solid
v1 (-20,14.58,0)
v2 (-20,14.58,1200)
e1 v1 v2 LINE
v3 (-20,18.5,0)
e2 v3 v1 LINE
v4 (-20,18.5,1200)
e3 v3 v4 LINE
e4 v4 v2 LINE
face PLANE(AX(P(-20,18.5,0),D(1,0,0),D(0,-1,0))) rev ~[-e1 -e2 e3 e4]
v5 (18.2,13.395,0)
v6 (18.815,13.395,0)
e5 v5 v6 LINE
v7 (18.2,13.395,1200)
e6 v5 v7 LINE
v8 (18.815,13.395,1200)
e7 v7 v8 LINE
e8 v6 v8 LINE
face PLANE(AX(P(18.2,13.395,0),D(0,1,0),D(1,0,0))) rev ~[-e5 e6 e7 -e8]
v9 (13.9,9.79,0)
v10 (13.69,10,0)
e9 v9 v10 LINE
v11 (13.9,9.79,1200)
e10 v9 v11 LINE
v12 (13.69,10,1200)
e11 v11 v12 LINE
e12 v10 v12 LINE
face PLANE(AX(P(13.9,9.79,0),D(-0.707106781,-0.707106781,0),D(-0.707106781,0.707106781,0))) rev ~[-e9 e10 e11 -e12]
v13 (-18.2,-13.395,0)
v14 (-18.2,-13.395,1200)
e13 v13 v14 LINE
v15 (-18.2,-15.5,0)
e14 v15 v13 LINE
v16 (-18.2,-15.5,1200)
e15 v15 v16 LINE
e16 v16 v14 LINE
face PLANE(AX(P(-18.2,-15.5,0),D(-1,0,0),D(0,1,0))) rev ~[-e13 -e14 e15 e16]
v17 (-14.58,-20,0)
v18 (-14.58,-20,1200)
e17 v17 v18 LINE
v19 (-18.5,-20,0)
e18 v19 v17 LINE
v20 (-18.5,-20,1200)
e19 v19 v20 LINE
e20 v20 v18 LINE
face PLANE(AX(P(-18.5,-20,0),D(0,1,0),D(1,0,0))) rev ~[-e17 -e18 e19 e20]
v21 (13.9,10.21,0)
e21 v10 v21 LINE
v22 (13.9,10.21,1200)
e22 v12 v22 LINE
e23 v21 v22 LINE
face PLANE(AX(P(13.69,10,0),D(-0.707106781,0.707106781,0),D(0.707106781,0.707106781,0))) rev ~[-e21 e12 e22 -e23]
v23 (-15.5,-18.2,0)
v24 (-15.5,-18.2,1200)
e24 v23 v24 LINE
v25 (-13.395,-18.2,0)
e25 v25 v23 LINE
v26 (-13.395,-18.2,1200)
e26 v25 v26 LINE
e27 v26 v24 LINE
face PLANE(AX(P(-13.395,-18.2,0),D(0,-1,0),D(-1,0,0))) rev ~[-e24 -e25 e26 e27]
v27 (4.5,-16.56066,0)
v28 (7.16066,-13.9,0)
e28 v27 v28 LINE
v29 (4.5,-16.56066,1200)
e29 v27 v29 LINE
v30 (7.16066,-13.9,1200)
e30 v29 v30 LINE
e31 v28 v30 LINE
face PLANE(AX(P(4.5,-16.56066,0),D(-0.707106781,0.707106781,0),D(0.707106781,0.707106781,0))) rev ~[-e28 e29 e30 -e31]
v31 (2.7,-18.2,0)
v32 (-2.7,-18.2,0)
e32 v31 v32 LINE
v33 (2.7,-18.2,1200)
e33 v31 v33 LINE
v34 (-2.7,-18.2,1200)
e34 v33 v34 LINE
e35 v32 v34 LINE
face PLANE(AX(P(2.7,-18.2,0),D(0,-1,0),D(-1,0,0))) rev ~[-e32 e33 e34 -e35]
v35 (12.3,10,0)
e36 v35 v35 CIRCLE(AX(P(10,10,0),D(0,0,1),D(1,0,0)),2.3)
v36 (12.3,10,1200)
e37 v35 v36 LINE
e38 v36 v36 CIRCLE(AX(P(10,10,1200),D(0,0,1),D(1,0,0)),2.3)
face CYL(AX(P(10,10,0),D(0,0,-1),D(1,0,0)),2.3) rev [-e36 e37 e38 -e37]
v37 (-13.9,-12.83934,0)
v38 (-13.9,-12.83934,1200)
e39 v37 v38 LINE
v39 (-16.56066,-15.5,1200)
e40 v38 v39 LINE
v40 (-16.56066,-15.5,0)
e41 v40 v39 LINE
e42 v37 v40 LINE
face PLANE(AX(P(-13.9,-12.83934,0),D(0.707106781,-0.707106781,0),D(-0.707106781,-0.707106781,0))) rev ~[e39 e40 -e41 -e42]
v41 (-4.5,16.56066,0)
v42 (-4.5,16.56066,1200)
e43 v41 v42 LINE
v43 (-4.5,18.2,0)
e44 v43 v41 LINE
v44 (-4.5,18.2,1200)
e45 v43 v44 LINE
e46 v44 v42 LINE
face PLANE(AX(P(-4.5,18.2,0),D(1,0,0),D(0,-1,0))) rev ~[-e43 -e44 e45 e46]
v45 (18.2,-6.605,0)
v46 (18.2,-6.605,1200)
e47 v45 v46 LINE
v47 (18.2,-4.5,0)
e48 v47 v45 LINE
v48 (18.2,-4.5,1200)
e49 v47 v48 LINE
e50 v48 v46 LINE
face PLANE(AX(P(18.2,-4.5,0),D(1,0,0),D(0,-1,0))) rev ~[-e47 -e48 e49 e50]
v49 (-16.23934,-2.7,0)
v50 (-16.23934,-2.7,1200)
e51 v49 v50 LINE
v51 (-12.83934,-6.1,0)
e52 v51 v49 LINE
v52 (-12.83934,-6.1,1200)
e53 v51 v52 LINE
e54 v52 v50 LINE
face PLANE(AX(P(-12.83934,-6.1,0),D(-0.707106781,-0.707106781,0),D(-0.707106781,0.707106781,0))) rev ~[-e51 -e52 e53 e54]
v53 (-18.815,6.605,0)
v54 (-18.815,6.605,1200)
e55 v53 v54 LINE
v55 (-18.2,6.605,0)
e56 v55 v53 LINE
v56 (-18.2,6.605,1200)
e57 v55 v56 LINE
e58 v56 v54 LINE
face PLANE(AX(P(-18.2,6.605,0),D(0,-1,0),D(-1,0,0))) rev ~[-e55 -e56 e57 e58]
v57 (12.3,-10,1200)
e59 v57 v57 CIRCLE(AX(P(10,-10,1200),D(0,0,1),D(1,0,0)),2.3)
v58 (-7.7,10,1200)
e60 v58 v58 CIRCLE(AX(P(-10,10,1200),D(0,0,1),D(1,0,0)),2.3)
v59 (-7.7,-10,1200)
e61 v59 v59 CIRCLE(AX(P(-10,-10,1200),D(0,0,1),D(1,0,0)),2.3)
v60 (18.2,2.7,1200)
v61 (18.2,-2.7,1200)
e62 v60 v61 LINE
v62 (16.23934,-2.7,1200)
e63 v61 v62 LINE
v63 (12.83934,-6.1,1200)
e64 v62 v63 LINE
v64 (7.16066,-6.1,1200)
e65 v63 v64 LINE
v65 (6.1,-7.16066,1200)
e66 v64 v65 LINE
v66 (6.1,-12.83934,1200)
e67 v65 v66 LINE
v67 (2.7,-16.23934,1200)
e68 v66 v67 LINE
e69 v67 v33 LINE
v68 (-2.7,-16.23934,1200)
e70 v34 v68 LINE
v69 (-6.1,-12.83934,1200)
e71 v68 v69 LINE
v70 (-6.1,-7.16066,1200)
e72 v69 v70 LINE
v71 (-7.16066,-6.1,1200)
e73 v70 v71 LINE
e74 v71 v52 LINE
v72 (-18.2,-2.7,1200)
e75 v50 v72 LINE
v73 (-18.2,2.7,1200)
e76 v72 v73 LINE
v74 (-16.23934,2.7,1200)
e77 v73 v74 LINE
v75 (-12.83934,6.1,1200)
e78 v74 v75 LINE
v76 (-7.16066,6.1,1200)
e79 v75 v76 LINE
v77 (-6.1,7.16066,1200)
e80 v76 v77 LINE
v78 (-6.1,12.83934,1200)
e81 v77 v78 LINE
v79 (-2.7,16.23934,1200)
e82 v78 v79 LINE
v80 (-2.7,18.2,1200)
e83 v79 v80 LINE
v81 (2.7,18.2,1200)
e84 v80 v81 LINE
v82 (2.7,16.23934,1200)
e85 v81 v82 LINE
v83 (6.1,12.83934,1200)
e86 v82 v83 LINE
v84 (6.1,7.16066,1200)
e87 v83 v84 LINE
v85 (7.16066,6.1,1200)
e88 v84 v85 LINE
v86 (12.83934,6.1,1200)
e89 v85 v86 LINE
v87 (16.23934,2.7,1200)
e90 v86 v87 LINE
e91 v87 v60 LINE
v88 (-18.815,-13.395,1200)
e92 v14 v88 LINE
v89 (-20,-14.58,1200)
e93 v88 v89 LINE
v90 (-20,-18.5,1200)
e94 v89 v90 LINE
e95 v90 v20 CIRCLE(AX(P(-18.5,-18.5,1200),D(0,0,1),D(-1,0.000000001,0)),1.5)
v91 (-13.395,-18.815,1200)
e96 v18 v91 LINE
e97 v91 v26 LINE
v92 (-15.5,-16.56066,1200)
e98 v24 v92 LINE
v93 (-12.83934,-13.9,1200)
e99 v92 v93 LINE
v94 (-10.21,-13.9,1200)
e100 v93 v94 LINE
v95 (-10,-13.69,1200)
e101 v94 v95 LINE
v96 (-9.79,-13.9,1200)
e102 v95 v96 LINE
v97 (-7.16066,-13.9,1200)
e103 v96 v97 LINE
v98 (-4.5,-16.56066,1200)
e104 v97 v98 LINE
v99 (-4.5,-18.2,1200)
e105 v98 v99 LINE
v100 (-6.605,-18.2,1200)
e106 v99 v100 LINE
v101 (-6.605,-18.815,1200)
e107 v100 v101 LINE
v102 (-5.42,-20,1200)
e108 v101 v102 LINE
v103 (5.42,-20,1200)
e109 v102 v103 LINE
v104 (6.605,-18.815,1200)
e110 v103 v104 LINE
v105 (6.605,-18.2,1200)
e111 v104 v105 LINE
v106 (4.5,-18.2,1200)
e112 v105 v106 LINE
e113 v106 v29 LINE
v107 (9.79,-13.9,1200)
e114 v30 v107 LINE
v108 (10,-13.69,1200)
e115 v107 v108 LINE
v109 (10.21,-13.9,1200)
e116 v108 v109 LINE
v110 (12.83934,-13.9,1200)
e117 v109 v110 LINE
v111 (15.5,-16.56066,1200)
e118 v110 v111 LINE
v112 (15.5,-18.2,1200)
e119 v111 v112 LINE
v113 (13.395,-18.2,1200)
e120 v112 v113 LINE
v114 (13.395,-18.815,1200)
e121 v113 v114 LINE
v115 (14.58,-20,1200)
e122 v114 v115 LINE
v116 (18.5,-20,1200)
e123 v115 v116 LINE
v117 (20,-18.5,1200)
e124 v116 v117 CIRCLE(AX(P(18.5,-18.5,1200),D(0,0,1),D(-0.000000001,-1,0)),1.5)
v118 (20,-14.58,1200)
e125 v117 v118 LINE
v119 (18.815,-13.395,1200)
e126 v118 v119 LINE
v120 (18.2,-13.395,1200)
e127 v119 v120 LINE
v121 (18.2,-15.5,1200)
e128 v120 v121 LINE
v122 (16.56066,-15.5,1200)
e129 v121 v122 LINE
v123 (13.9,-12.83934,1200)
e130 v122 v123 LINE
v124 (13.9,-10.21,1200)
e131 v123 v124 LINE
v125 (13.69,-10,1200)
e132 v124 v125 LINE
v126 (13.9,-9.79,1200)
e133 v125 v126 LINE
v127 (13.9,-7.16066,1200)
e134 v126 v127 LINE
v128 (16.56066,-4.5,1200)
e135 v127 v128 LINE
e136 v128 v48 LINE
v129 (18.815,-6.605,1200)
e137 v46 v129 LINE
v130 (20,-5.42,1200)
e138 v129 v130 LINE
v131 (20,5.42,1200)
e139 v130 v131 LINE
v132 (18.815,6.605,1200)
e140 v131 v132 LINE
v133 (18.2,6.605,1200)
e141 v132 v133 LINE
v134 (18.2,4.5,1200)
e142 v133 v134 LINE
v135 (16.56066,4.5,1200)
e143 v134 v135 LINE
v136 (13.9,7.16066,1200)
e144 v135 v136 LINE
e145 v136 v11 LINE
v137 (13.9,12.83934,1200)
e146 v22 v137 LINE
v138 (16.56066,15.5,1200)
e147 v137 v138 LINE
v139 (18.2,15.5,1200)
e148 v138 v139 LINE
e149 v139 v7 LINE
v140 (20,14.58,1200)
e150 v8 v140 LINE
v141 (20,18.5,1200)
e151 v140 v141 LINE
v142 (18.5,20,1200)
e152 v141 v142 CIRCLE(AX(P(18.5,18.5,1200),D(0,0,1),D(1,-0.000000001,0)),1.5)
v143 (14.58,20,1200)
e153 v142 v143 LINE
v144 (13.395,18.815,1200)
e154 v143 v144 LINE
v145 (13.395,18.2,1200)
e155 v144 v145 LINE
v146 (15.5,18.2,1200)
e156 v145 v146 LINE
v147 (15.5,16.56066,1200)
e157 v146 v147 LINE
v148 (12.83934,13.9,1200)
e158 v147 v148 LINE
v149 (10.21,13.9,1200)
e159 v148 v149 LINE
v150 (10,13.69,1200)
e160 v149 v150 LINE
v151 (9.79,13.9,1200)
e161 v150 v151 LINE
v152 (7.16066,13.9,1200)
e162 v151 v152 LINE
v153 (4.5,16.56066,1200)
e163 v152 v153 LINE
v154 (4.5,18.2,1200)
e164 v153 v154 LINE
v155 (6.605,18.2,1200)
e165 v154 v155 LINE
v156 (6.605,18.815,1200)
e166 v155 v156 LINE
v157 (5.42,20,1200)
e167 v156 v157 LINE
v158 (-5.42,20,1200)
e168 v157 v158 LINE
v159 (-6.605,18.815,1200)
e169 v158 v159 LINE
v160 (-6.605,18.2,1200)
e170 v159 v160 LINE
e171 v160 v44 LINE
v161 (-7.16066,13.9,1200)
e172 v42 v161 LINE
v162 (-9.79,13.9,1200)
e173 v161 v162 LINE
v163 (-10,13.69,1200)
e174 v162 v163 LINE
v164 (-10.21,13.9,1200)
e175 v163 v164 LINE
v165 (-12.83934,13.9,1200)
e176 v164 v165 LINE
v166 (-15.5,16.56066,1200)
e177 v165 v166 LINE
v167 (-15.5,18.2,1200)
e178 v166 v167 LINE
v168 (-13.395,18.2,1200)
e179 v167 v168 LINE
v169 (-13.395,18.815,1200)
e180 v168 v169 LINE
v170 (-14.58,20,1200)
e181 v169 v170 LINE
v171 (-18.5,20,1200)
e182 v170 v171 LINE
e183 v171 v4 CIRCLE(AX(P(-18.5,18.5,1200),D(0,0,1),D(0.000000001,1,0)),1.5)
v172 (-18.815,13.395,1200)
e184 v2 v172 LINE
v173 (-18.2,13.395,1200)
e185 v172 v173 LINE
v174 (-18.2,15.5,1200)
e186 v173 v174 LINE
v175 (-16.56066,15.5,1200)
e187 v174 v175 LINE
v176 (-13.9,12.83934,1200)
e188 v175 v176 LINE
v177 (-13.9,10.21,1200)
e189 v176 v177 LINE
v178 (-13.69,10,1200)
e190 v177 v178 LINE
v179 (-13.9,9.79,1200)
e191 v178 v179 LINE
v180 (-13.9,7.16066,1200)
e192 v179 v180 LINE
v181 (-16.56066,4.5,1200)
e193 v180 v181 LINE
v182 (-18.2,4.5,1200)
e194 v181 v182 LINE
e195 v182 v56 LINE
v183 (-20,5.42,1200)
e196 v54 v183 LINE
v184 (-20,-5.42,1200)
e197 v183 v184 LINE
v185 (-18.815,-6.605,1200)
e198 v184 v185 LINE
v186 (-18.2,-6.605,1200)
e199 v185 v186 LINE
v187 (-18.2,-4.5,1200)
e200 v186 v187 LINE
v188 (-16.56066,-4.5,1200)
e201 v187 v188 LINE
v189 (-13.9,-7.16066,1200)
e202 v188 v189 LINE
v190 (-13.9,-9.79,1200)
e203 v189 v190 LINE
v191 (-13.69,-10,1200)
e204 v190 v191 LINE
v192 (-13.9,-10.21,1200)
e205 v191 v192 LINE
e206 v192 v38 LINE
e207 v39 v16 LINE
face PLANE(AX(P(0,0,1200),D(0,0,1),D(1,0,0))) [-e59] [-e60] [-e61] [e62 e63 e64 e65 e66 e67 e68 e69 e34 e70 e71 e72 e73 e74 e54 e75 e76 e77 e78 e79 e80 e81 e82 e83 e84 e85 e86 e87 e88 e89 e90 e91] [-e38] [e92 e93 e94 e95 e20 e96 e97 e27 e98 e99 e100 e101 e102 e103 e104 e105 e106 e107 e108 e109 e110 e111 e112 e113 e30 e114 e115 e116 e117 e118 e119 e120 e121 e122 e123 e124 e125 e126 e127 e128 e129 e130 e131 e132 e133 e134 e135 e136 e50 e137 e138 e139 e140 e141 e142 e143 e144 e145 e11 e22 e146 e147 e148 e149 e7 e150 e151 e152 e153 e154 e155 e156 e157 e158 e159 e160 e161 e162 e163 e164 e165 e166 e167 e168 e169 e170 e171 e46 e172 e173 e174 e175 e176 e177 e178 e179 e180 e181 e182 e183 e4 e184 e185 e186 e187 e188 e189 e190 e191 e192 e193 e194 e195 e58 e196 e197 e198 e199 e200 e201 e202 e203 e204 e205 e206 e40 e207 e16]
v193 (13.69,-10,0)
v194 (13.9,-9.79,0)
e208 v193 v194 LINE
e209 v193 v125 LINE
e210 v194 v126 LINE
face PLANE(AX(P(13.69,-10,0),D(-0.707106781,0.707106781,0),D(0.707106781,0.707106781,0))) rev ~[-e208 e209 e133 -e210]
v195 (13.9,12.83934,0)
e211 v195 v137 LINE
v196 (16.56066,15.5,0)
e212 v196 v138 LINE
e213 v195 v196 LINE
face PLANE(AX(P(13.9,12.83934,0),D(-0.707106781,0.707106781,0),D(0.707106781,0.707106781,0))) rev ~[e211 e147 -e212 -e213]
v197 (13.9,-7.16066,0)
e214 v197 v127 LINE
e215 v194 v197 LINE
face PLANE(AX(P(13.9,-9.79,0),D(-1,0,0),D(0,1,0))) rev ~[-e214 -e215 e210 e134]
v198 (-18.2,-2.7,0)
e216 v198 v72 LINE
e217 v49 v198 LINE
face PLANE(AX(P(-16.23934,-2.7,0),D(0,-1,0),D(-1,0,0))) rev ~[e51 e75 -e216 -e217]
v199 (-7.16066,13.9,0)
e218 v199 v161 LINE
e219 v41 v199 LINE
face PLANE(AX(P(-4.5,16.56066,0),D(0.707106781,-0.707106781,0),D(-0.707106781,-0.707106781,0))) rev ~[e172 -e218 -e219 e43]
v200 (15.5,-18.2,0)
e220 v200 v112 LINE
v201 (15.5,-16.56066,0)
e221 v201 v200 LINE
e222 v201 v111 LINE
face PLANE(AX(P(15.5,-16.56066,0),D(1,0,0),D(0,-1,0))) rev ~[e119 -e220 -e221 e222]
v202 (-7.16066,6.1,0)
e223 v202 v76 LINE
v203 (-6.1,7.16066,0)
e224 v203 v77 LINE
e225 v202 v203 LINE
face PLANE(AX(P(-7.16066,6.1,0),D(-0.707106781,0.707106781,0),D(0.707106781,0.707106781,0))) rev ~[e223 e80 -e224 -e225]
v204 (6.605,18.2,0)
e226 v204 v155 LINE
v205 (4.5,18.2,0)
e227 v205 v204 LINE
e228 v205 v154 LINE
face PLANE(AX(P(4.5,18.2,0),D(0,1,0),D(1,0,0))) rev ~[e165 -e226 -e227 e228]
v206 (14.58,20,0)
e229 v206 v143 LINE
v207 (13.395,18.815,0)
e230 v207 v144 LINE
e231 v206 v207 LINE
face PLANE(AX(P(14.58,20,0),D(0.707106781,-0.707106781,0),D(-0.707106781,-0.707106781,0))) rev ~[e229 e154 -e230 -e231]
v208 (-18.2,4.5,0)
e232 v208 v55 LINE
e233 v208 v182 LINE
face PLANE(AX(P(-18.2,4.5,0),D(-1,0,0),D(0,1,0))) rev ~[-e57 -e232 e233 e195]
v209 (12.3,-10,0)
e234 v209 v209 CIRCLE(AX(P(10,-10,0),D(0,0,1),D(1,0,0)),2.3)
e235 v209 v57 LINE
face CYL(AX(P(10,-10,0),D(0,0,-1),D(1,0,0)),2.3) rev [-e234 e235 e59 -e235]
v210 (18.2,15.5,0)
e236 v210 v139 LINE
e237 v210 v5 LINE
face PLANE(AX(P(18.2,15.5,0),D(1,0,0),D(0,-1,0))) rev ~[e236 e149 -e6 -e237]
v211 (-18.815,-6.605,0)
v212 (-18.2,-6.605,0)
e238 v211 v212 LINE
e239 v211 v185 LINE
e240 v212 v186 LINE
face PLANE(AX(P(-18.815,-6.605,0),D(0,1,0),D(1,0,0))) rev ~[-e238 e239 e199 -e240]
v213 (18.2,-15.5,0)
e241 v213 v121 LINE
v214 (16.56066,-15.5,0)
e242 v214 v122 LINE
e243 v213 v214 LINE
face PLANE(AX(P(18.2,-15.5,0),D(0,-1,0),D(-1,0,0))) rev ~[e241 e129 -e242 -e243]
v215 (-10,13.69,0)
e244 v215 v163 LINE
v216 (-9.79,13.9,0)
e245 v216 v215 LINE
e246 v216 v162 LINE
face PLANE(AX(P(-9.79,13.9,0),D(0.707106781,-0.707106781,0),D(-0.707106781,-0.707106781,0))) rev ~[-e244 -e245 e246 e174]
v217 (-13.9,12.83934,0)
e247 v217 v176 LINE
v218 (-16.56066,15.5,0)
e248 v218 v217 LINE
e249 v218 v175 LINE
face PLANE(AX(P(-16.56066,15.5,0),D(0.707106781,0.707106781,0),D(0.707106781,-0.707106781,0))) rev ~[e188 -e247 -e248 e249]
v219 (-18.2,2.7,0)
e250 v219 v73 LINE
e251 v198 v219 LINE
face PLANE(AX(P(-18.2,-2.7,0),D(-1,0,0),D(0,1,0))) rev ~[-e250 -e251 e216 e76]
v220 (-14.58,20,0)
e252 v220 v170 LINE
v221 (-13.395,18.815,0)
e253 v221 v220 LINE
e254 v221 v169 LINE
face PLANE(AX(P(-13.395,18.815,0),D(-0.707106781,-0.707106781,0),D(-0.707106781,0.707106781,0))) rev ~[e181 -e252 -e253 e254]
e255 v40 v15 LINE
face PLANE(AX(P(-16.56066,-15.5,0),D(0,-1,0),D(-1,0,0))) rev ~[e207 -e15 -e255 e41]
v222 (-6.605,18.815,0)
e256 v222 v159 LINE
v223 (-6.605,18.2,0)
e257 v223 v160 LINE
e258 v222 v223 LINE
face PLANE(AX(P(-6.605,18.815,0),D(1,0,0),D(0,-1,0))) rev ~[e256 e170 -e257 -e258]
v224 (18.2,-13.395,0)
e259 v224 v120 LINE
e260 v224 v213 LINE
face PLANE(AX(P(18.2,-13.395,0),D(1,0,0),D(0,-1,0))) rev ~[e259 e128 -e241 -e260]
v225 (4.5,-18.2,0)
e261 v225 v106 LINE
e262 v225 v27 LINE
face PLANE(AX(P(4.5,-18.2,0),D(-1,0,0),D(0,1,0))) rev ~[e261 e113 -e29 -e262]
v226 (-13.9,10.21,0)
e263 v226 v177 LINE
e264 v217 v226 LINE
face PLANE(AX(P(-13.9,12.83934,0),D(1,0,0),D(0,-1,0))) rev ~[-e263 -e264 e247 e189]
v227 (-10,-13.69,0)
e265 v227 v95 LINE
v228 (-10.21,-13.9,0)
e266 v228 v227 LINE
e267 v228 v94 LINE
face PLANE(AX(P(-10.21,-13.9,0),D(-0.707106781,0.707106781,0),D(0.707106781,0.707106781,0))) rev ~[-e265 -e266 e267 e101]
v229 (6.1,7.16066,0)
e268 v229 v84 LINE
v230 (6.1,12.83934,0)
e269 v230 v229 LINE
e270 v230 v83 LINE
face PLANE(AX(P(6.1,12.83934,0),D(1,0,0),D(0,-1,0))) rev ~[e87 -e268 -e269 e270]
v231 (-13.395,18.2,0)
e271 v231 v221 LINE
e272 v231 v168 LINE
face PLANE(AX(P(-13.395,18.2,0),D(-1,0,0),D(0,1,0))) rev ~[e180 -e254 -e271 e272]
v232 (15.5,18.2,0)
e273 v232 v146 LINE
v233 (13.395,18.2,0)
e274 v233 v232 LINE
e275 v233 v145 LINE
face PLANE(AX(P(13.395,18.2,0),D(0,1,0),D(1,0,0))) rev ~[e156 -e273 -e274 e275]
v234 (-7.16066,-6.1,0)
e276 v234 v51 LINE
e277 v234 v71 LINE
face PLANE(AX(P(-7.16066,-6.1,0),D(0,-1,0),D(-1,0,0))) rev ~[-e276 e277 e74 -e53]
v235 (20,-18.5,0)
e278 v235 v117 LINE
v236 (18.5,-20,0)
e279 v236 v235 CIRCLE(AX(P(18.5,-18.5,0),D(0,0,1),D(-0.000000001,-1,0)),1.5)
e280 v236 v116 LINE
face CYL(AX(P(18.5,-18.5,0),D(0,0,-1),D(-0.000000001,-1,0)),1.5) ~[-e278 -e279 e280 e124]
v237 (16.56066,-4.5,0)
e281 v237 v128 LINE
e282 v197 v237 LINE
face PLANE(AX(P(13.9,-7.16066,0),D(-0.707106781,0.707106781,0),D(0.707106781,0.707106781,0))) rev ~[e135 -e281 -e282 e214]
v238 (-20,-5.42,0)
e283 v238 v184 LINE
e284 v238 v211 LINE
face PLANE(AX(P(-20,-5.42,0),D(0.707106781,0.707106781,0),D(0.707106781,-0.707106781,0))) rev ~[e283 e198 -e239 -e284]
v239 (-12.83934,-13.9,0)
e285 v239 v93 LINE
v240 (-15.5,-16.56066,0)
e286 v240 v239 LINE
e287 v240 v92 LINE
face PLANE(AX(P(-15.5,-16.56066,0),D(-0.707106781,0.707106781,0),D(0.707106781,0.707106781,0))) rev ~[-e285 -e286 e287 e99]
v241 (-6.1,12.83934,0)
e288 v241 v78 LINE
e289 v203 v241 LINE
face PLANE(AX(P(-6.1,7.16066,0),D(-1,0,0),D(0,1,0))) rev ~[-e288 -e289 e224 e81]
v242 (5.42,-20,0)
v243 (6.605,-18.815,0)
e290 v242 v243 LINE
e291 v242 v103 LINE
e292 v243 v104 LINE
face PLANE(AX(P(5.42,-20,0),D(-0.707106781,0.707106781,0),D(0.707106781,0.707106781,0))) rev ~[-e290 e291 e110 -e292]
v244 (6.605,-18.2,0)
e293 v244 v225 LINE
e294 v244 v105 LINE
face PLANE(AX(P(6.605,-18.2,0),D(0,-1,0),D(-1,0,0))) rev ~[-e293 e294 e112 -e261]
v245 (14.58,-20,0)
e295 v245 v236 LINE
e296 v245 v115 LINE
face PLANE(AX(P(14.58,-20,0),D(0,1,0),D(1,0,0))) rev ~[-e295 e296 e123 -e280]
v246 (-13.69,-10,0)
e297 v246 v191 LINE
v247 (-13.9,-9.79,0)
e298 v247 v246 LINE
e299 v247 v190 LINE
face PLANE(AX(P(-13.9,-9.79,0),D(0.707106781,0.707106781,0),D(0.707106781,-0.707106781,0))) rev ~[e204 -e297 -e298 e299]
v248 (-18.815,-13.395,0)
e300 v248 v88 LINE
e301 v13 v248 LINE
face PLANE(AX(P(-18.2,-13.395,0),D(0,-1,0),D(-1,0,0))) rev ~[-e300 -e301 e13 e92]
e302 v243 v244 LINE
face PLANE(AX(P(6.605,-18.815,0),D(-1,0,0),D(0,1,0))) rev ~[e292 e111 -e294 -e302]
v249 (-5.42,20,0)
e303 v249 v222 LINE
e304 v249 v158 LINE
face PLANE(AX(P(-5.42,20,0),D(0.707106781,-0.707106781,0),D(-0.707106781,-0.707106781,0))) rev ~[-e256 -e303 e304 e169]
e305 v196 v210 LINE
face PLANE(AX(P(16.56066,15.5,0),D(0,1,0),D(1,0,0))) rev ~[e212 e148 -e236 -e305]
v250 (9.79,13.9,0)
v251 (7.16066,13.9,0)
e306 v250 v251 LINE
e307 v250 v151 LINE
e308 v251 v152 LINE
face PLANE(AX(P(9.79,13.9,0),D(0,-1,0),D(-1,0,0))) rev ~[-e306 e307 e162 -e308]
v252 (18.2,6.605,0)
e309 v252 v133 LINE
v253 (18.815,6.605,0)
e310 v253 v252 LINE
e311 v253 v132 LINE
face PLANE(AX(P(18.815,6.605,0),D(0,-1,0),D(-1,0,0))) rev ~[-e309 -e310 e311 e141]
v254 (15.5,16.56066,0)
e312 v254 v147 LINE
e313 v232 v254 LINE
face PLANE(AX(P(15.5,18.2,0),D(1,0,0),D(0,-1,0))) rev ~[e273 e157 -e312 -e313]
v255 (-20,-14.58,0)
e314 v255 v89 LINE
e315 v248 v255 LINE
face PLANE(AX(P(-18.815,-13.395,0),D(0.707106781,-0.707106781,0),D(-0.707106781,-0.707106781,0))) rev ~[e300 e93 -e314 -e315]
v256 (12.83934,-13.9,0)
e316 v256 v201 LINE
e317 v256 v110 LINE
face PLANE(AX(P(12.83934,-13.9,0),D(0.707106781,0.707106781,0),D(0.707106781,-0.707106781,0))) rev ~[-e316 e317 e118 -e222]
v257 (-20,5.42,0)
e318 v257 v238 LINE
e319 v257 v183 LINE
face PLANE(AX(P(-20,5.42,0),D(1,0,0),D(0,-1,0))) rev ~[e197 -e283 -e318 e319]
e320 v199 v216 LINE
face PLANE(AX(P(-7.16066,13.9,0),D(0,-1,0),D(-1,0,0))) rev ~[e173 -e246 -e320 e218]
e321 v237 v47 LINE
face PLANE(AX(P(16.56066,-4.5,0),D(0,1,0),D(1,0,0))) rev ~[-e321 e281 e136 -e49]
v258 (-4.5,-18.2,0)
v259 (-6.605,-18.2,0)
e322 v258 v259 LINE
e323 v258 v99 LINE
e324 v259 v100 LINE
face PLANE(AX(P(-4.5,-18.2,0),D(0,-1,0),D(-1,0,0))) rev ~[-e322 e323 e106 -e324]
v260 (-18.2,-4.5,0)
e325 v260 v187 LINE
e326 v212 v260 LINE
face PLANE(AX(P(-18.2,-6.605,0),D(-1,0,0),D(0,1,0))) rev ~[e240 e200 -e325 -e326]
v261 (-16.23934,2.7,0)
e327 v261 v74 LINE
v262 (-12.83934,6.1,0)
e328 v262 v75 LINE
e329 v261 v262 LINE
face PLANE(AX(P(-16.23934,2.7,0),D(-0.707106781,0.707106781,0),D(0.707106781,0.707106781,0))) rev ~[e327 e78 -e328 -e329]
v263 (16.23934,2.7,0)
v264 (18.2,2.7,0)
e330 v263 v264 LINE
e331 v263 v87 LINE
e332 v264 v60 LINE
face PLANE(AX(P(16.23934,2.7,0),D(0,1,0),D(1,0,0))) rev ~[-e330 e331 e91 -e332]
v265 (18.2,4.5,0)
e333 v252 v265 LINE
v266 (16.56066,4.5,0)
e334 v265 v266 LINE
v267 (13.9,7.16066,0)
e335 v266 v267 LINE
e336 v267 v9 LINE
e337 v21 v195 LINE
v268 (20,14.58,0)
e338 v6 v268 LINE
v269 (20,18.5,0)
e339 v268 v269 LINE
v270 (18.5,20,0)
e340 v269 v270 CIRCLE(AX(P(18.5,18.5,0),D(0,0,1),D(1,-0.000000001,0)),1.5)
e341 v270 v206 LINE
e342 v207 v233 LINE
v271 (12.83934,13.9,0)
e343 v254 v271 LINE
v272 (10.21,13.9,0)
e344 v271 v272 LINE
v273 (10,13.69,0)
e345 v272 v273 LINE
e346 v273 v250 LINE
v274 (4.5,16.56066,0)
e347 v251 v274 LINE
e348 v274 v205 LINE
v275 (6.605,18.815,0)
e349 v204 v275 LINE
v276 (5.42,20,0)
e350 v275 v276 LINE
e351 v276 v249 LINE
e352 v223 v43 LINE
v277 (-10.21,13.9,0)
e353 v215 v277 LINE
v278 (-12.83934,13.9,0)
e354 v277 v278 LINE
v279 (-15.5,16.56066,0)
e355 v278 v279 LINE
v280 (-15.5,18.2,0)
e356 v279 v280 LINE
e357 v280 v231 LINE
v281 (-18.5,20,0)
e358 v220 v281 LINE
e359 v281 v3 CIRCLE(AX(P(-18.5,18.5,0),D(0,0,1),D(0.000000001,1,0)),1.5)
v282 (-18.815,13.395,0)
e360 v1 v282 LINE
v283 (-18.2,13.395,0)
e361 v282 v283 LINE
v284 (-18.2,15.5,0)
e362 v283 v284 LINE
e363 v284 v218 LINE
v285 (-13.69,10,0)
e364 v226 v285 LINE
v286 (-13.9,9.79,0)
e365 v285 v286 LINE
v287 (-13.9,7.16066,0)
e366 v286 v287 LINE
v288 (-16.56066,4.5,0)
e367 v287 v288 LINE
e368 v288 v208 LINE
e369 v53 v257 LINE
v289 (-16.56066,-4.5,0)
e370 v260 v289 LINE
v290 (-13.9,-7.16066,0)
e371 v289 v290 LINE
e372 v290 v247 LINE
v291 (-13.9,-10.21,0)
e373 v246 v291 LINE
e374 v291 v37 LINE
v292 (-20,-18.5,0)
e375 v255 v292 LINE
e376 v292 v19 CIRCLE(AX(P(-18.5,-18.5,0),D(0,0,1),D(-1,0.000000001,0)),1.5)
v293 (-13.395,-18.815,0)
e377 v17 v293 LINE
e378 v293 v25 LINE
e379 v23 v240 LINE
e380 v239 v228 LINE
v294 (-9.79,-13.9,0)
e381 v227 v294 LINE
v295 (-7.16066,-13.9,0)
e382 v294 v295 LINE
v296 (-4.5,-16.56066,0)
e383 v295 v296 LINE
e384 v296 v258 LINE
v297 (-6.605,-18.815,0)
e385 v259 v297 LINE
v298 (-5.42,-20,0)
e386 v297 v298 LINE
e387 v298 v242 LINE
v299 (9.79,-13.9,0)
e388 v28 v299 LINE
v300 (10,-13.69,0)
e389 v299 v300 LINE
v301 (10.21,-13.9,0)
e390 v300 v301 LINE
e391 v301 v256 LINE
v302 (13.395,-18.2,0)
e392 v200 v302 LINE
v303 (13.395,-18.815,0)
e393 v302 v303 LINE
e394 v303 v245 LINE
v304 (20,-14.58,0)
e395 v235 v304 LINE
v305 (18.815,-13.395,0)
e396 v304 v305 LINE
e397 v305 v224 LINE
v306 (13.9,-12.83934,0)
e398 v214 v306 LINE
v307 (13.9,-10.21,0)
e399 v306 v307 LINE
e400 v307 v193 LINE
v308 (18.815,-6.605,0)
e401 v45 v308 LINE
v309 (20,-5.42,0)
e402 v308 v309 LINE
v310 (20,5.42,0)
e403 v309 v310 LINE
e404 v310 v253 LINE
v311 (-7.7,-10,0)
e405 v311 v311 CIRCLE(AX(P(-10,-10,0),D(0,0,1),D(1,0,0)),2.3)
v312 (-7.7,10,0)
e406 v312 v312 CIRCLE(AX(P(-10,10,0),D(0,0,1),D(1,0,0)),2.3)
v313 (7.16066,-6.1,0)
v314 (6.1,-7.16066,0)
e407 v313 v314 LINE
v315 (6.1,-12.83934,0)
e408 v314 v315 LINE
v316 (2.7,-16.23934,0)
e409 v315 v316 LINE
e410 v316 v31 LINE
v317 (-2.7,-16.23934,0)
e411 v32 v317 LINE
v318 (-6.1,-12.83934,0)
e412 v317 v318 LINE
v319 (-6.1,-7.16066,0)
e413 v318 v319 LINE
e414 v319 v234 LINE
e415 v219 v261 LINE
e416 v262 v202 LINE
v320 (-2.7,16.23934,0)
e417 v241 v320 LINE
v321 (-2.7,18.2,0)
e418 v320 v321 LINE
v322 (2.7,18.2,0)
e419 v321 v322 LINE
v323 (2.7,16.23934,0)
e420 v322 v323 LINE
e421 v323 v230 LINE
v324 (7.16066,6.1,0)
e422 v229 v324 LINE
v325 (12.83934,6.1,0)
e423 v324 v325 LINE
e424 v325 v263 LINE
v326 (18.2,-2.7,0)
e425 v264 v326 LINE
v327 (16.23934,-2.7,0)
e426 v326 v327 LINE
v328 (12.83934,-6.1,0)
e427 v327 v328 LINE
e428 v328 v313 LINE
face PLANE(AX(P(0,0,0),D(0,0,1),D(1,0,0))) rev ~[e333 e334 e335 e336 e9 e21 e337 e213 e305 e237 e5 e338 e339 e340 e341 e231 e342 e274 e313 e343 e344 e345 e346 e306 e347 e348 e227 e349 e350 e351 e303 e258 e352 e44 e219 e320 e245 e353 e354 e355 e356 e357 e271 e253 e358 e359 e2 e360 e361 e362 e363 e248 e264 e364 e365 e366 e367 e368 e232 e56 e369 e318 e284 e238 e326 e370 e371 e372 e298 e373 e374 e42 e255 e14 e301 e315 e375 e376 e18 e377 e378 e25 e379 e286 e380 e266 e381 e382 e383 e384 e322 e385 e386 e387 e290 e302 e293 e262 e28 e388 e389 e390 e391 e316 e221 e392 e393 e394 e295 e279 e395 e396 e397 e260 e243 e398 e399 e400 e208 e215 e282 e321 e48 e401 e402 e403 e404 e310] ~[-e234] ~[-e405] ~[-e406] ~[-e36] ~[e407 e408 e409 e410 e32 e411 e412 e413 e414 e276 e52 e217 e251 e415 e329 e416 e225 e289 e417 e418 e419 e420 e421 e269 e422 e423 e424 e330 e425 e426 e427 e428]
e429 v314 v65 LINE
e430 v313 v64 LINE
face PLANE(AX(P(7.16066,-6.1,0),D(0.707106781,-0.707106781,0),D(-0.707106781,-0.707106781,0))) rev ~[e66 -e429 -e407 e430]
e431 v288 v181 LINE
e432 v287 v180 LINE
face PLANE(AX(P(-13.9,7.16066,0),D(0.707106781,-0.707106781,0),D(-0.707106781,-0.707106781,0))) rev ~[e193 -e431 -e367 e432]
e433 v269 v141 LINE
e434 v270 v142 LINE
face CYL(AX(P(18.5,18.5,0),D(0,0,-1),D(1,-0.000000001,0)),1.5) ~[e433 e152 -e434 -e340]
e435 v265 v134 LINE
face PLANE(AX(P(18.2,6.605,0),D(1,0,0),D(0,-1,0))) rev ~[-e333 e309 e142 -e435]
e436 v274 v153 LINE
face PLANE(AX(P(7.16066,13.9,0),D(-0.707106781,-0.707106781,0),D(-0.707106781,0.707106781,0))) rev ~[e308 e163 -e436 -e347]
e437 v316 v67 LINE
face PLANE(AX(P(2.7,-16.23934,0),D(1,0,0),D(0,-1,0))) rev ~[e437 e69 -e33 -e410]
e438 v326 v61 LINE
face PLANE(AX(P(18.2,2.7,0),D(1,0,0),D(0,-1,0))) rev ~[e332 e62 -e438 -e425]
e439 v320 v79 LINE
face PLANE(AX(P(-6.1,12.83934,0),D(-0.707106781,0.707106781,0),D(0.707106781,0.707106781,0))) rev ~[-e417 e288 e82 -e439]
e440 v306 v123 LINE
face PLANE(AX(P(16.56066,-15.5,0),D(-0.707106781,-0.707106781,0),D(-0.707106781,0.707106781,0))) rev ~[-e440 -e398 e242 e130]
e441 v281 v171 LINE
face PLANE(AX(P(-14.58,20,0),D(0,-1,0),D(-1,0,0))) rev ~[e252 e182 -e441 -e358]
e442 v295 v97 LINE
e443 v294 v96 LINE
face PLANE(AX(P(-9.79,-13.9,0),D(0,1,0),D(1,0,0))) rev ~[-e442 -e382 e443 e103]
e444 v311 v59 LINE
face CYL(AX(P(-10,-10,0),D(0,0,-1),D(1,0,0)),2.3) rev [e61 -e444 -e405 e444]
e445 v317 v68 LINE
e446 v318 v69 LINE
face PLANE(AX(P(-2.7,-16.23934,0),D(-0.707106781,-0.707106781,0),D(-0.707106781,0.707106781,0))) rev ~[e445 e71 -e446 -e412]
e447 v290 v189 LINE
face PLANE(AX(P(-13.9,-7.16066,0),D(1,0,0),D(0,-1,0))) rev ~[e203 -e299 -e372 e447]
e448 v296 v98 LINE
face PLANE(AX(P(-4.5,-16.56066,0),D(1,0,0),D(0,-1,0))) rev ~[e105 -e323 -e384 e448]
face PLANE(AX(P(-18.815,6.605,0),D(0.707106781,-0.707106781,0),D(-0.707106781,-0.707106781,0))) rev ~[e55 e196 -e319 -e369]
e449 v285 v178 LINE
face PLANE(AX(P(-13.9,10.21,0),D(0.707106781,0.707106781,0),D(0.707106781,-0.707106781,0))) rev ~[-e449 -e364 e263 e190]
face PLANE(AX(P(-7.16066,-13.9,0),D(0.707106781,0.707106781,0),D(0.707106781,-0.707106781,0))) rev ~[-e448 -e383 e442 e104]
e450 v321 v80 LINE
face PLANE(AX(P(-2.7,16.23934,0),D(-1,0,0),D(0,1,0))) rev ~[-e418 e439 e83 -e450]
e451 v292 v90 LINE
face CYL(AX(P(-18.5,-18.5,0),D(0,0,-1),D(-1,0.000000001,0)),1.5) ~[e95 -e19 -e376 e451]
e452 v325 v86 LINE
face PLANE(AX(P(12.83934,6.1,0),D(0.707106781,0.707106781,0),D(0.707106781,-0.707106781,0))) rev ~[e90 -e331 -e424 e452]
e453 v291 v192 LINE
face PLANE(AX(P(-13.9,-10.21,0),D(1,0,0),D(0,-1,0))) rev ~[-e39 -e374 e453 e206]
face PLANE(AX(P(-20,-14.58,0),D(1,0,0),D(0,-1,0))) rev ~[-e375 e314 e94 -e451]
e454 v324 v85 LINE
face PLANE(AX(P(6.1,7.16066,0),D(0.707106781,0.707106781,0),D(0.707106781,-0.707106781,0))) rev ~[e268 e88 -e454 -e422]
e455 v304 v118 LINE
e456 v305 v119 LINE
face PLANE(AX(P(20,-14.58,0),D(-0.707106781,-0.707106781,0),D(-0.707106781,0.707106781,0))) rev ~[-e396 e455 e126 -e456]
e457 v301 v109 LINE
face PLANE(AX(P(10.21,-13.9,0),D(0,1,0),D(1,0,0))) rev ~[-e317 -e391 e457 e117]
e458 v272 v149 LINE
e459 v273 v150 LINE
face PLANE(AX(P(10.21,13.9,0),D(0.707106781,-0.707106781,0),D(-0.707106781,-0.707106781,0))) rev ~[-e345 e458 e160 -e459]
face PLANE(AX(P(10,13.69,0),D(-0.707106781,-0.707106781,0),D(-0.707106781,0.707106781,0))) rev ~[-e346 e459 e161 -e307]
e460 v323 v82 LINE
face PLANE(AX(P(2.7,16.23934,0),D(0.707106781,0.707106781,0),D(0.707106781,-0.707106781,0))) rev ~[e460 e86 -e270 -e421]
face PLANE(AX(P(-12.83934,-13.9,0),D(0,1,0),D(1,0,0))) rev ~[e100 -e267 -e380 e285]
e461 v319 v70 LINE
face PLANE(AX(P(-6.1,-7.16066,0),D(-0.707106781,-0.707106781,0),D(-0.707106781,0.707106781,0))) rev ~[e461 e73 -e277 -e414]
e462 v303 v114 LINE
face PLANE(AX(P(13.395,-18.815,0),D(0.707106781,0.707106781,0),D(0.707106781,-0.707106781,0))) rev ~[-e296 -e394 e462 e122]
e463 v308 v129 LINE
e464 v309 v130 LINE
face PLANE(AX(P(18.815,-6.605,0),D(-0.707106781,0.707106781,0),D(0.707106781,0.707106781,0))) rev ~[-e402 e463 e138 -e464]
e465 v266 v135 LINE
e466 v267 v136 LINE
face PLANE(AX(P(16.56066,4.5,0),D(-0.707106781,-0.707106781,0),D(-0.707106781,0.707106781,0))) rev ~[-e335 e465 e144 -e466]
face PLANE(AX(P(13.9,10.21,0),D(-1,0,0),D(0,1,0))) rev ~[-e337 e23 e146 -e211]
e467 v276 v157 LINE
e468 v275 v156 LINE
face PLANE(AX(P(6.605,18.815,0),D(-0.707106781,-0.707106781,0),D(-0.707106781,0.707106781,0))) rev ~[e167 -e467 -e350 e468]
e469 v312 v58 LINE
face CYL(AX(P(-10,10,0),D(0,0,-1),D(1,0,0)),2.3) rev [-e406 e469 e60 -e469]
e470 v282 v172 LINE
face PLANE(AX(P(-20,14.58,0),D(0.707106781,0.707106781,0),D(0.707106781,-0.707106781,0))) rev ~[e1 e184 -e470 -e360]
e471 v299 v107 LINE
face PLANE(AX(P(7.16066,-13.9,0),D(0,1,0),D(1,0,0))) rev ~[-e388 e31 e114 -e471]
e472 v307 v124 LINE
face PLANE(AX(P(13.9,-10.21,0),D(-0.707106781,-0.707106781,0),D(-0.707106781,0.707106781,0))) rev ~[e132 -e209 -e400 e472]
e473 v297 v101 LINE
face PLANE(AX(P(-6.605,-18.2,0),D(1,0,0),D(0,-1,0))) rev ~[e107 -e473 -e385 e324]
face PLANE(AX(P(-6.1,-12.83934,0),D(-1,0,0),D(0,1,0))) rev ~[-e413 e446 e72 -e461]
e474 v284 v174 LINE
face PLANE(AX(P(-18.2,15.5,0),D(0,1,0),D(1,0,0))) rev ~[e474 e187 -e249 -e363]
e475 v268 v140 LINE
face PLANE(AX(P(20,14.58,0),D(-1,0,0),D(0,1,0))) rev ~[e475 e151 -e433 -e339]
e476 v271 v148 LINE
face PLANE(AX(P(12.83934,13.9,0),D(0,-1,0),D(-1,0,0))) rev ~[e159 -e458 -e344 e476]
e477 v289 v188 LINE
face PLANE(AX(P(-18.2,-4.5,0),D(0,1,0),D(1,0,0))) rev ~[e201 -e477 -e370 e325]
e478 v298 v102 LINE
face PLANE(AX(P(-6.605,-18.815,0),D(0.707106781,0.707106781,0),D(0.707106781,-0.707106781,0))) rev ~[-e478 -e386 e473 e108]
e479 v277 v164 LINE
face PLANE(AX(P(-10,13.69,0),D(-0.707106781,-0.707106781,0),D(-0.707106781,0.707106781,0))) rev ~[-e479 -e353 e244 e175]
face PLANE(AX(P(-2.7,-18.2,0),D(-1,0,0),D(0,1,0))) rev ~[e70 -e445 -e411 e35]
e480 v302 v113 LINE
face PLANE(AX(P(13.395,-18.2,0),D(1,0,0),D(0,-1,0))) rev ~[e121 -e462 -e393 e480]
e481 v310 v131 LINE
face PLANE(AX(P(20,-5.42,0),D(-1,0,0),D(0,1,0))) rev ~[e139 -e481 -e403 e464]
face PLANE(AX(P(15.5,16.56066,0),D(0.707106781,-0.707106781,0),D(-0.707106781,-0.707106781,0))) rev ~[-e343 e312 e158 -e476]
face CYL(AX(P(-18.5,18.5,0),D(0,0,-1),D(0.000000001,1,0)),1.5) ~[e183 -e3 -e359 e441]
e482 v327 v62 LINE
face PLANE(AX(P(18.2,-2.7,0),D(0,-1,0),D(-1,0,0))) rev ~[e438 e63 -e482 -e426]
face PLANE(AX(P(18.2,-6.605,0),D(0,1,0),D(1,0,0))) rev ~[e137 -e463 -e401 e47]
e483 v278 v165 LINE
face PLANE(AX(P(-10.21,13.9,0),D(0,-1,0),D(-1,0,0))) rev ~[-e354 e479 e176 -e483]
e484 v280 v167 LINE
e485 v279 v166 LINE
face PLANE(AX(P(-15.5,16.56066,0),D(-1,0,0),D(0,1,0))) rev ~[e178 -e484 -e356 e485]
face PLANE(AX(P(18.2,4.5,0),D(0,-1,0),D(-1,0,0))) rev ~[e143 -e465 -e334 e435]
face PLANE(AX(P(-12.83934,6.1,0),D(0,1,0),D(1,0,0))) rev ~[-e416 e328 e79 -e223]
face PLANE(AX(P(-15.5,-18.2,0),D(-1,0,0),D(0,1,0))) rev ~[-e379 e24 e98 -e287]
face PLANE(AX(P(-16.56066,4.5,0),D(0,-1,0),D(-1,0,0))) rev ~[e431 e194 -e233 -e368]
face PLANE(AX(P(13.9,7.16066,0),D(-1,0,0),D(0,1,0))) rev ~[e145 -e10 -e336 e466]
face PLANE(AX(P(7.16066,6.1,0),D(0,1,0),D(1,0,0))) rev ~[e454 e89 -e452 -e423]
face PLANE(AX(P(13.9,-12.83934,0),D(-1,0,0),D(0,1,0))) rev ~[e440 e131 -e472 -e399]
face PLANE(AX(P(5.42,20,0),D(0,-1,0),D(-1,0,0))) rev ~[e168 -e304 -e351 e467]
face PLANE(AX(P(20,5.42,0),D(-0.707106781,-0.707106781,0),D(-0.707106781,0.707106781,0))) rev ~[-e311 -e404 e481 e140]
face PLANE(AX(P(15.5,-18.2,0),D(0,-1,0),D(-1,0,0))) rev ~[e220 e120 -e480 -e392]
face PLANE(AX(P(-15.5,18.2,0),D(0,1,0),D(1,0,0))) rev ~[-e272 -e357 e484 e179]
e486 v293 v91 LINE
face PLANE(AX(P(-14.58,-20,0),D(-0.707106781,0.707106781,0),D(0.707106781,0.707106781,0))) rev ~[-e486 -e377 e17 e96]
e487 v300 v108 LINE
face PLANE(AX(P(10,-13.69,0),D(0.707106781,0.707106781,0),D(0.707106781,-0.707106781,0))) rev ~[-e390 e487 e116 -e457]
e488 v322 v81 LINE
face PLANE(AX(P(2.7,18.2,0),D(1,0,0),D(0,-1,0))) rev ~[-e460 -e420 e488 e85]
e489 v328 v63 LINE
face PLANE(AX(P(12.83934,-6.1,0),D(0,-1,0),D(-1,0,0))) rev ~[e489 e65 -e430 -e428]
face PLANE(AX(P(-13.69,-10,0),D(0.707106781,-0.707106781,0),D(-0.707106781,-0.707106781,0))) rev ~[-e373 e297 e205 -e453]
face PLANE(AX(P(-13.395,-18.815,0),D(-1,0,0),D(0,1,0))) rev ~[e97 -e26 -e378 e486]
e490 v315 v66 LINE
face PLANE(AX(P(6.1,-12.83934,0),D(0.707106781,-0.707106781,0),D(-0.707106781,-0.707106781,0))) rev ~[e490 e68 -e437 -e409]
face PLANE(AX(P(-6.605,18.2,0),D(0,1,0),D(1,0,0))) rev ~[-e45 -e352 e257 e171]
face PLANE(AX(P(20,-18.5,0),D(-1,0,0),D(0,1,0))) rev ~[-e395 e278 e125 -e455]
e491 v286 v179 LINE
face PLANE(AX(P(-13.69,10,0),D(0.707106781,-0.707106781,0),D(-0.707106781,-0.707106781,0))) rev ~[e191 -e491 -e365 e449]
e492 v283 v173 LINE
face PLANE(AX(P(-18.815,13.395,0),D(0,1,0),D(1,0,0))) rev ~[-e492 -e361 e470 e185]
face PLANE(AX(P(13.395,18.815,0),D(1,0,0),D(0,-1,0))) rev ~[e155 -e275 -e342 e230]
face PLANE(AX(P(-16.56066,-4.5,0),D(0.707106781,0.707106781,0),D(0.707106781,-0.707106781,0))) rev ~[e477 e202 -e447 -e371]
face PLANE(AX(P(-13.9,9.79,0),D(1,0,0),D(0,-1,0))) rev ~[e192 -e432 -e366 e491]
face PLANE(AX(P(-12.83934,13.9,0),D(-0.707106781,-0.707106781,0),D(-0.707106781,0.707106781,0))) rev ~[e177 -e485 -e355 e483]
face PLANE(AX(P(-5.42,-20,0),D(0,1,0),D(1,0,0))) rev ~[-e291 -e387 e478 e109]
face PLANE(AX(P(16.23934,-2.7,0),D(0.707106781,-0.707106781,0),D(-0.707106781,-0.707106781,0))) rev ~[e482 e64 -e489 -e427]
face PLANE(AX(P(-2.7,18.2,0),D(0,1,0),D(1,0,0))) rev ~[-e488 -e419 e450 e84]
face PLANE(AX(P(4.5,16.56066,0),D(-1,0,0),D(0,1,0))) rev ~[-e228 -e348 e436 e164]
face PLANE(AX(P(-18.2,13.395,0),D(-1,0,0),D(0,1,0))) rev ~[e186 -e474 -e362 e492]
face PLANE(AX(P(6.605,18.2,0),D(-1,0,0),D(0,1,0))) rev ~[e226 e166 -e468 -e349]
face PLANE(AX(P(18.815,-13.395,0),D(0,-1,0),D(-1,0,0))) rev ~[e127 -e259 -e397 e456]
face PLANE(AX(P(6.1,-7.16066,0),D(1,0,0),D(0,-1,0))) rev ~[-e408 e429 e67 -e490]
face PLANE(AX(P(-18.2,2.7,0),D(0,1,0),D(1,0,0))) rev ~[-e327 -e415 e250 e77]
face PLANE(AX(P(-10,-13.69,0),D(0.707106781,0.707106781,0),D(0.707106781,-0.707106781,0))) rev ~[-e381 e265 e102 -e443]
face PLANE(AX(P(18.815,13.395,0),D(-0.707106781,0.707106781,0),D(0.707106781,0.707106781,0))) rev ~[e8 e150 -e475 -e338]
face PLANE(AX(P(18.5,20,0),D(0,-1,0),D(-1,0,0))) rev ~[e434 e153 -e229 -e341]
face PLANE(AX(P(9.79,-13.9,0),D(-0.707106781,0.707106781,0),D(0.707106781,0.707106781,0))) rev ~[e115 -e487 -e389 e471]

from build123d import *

# Parameters (mm, degrees)
SKETCH1_R           = 2.3
BOSS_EXTRUDE1_DEPTH = 1200


with BuildPart() as part:
    # Sketch1 → Boss-Extrude1 (new body)
    with BuildSketch(Plane.XY):
        with BuildLine():
            Line((14.58, -20), (18.5, -20))
            ThreePointArc((18.5, -20), (19.560660172, -19.560660172), (20, -18.5))
            Line((20, -18.5), (20, -14.58))
            Line((20, -14.58), (18.815, -13.395))
            Line((18.815, -13.395), (18.2, -13.395))
            Line((18.2, -13.395), (18.2, -15.5))
            Line((18.2, -15.5), (16.560660172, -15.5))
            Line((16.560660172, -15.5), (13.9, -12.839339828))
            Line((13.9, -12.839339828), (13.9, -10.21))
            Line((13.9, -10.21), (13.69, -10))
            Line((13.69, -10), (13.9, -9.79))
            Line((13.9, -9.79), (13.9, -7.160660172))
            Line((13.9, -7.160660172), (16.560660172, -4.5))
            Line((16.560660172, -4.5), (18.2, -4.5))
            Line((18.2, -4.5), (18.2, -6.605))
            Line((18.2, -6.605), (18.815, -6.605))
            Line((18.815, -6.605), (20, -5.42))
            Line((20, -5.42), (20, 5.42))
            Line((20, 5.42), (18.815, 6.605))
            Line((18.815, 6.605), (18.2, 6.605))
            Line((18.2, 6.605), (18.2, 4.5))
            Line((18.2, 4.5), (16.560660172, 4.5))
            Line((16.560660172, 4.5), (13.9, 7.160660172))
            Line((13.9, 7.160660172), (13.9, 9.79))
            Line((13.9, 9.79), (13.69, 10))
            Line((13.69, 10), (13.9, 10.21))
            Line((13.9, 10.21), (13.9, 12.839339828))
            Line((13.9, 12.839339828), (16.560660172, 15.5))
            Line((16.560660172, 15.5), (18.2, 15.5))
            Line((18.2, 15.5), (18.2, 13.395))
            Line((18.2, 13.395), (18.815, 13.395))
            Line((18.815, 13.395), (20, 14.58))
            Line((20, 14.58), (20, 18.5))
            ThreePointArc((20, 18.5), (19.560660172, 19.560660172), (18.5, 20))
            Line((18.5, 20), (14.58, 20))
            Line((14.58, 20), (13.395, 18.815))
            Line((13.395, 18.815), (13.395, 18.2))
            Line((13.395, 18.2), (15.5, 18.2))
            Line((15.5, 18.2), (15.5, 16.560660172))
            Line((15.5, 16.560660172), (12.839339828, 13.9))
            Line((12.839339828, 13.9), (10.21, 13.9))
            Line((10.21, 13.9), (10, 13.69))
            Line((10, 13.69), (9.79, 13.9))
            Line((9.79, 13.9), (7.160660172, 13.9))
            Line((7.160660172, 13.9), (4.5, 16.560660172))
            Line((4.5, 16.560660172), (4.5, 18.2))
            Line((4.5, 18.2), (6.605, 18.2))
            Line((6.605, 18.2), (6.605, 18.815))
            Line((6.605, 18.815), (5.42, 20))
            Line((5.42, 20), (-5.42, 20))
            Line((-5.42, 20), (-6.605, 18.815))
            Line((-6.605, 18.815), (-6.605, 18.2))
            Line((-6.605, 18.2), (-4.5, 18.2))
            Line((-4.5, 18.2), (-4.5, 16.560660172))
            Line((-4.5, 16.560660172), (-7.160660172, 13.9))
            Line((-7.160660172, 13.9), (-9.79, 13.9))
            Line((-9.79, 13.9), (-10, 13.69))
            Line((-10, 13.69), (-10.21, 13.9))
            Line((-10.21, 13.9), (-12.839339828, 13.9))
            Line((-12.839339828, 13.9), (-15.5, 16.560660172))
            Line((-15.5, 16.560660172), (-15.5, 18.2))
            Line((-15.5, 18.2), (-13.395, 18.2))
            Line((-13.395, 18.2), (-13.395, 18.815))
            Line((-13.395, 18.815), (-14.58, 20))
            Line((-14.58, 20), (-18.5, 20))
            ThreePointArc((-18.5, 20), (-19.560660172, 19.560660172), (-20, 18.5))
            Line((-20, 18.5), (-20, 14.58))
            Line((-20, 14.58), (-18.815, 13.395))
            Line((-18.815, 13.395), (-18.2, 13.395))
            Line((-18.2, 13.395), (-18.2, 15.5))
            Line((-18.2, 15.5), (-16.560660172, 15.5))
            Line((-16.560660172, 15.5), (-13.9, 12.839339828))
            Line((-13.9, 12.839339828), (-13.9, 10.21))
            Line((-13.9, 10.21), (-13.69, 10))
            Line((-13.69, 10), (-13.9, 9.79))
            Line((-13.9, 9.79), (-13.9, 7.160660172))
            Line((-13.9, 7.160660172), (-16.560660172, 4.5))
            Line((-16.560660172, 4.5), (-18.2, 4.5))
            Line((-18.2, 4.5), (-18.2, 6.605))
            Line((-18.2, 6.605), (-18.815, 6.605))
            Line((-18.815, 6.605), (-20, 5.42))
            Line((-20, 5.42), (-20, -5.42))
            Line((-20, -5.42), (-18.815, -6.605))
            Line((-18.815, -6.605), (-18.2, -6.605))
            Line((-18.2, -6.605), (-18.2, -4.5))
            Line((-18.2, -4.5), (-16.560660172, -4.5))
            Line((-16.560660172, -4.5), (-13.9, -7.160660172))
            Line((-13.9, -7.160660172), (-13.9, -9.79))
            Line((-13.9, -9.79), (-13.69, -10))
            Line((-13.69, -10), (-13.9, -10.21))
            Line((-13.9, -10.21), (-13.9, -12.839339828))
            Line((-13.9, -12.839339828), (-16.560660172, -15.5))
            Line((-16.560660172, -15.5), (-18.2, -15.5))
            Line((-18.2, -15.5), (-18.2, -13.395))
            Line((-18.2, -13.395), (-18.815, -13.395))
            Line((-18.815, -13.395), (-20, -14.58))
            Line((-20, -14.58), (-20, -18.5))
            ThreePointArc((-20, -18.5), (-19.560660172, -19.560660172), (-18.5, -20))
            Line((-18.5, -20), (-14.58, -20))
            Line((-14.58, -20), (-13.395, -18.815))
            Line((-13.395, -18.815), (-13.395, -18.2))
            Line((-13.395, -18.2), (-15.5, -18.2))
            Line((-15.5, -18.2), (-15.5, -16.560660172))
            Line((-15.5, -16.560660172), (-12.839339828, -13.9))
            Line((-12.839339828, -13.9), (-10.21, -13.9))
            Line((-10.21, -13.9), (-10, -13.69))
            Line((-10, -13.69), (-9.79, -13.9))
            Line((-9.79, -13.9), (-7.160660172, -13.9))
            Line((-7.160660172, -13.9), (-4.5, -16.560660172))
            Line((-4.5, -16.560660172), (-4.5, -18.2))
            Line((-4.5, -18.2), (-6.605, -18.2))
            Line((-6.605, -18.2), (-6.605, -18.815))
            Line((-6.605, -18.815), (-5.42, -20))
            Line((-5.42, -20), (5.42, -20))
            Line((5.42, -20), (6.605, -18.815))
            Line((6.605, -18.815), (6.605, -18.2))
            Line((6.605, -18.2), (4.5, -18.2))
            Line((4.5, -18.2), (4.5, -16.560660172))
            Line((4.5, -16.560660172), (7.160660172, -13.9))
            Line((7.160660172, -13.9), (9.79, -13.9))
            Line((9.79, -13.9), (10, -13.69))
            Line((10, -13.69), (10.21, -13.9))
            Line((10.21, -13.9), (12.839339828, -13.9))
            Line((12.839339828, -13.9), (15.5, -16.560660172))
            Line((15.5, -16.560660172), (15.5, -18.2))
            Line((15.5, -18.2), (13.395, -18.2))
            Line((13.395, -18.2), (13.395, -18.815))
            Line((13.395, -18.815), (14.58, -20))
        make_face()
        with Locations((-10, -10)):
            Circle(SKETCH1_R, mode=Mode.SUBTRACT)
        with Locations((10, -10)):
            Circle(SKETCH1_R, mode=Mode.SUBTRACT)
        Polygon((-16.239339828, -2.7), (-18.2, -2.7), (-18.2, 2.7), (-16.239339828, 2.7), (-12.839339828, 6.1), (-7.160660172, 6.1), (-6.1, 7.160660172), (-6.1, 12.839339828), (-2.7, 16.239339828), (-2.7, 18.2), (2.7, 18.2), (2.7, 16.239339828), (6.1, 12.839339828), (6.1, 7.160660172), (7.160660172, 6.1), (12.839339828, 6.1), (16.239339828, 2.7), (18.2, 2.7), (18.2, -2.7), (16.239339828, -2.7), (12.839339828, -6.1), (7.160660172, -6.1), (6.1, -7.160660172), (6.1, -12.839339828), (2.7, -16.239339828), (2.7, -18.2), (-2.7, -18.2), (-2.7, -16.239339828), (-6.1, -12.839339828), (-6.1, -7.160660172), (-7.160660172, -6.1), (-12.839339828, -6.1), align=None, mode=Mode.SUBTRACT)
        with Locations((-10, 10)):
            Circle(SKETCH1_R, mode=Mode.SUBTRACT)
        with Locations((10, 10)):
            Circle(SKETCH1_R, mode=Mode.SUBTRACT)
    extrude(amount=BOSS_EXTRUDE1_DEPTH)


solid = part.part
